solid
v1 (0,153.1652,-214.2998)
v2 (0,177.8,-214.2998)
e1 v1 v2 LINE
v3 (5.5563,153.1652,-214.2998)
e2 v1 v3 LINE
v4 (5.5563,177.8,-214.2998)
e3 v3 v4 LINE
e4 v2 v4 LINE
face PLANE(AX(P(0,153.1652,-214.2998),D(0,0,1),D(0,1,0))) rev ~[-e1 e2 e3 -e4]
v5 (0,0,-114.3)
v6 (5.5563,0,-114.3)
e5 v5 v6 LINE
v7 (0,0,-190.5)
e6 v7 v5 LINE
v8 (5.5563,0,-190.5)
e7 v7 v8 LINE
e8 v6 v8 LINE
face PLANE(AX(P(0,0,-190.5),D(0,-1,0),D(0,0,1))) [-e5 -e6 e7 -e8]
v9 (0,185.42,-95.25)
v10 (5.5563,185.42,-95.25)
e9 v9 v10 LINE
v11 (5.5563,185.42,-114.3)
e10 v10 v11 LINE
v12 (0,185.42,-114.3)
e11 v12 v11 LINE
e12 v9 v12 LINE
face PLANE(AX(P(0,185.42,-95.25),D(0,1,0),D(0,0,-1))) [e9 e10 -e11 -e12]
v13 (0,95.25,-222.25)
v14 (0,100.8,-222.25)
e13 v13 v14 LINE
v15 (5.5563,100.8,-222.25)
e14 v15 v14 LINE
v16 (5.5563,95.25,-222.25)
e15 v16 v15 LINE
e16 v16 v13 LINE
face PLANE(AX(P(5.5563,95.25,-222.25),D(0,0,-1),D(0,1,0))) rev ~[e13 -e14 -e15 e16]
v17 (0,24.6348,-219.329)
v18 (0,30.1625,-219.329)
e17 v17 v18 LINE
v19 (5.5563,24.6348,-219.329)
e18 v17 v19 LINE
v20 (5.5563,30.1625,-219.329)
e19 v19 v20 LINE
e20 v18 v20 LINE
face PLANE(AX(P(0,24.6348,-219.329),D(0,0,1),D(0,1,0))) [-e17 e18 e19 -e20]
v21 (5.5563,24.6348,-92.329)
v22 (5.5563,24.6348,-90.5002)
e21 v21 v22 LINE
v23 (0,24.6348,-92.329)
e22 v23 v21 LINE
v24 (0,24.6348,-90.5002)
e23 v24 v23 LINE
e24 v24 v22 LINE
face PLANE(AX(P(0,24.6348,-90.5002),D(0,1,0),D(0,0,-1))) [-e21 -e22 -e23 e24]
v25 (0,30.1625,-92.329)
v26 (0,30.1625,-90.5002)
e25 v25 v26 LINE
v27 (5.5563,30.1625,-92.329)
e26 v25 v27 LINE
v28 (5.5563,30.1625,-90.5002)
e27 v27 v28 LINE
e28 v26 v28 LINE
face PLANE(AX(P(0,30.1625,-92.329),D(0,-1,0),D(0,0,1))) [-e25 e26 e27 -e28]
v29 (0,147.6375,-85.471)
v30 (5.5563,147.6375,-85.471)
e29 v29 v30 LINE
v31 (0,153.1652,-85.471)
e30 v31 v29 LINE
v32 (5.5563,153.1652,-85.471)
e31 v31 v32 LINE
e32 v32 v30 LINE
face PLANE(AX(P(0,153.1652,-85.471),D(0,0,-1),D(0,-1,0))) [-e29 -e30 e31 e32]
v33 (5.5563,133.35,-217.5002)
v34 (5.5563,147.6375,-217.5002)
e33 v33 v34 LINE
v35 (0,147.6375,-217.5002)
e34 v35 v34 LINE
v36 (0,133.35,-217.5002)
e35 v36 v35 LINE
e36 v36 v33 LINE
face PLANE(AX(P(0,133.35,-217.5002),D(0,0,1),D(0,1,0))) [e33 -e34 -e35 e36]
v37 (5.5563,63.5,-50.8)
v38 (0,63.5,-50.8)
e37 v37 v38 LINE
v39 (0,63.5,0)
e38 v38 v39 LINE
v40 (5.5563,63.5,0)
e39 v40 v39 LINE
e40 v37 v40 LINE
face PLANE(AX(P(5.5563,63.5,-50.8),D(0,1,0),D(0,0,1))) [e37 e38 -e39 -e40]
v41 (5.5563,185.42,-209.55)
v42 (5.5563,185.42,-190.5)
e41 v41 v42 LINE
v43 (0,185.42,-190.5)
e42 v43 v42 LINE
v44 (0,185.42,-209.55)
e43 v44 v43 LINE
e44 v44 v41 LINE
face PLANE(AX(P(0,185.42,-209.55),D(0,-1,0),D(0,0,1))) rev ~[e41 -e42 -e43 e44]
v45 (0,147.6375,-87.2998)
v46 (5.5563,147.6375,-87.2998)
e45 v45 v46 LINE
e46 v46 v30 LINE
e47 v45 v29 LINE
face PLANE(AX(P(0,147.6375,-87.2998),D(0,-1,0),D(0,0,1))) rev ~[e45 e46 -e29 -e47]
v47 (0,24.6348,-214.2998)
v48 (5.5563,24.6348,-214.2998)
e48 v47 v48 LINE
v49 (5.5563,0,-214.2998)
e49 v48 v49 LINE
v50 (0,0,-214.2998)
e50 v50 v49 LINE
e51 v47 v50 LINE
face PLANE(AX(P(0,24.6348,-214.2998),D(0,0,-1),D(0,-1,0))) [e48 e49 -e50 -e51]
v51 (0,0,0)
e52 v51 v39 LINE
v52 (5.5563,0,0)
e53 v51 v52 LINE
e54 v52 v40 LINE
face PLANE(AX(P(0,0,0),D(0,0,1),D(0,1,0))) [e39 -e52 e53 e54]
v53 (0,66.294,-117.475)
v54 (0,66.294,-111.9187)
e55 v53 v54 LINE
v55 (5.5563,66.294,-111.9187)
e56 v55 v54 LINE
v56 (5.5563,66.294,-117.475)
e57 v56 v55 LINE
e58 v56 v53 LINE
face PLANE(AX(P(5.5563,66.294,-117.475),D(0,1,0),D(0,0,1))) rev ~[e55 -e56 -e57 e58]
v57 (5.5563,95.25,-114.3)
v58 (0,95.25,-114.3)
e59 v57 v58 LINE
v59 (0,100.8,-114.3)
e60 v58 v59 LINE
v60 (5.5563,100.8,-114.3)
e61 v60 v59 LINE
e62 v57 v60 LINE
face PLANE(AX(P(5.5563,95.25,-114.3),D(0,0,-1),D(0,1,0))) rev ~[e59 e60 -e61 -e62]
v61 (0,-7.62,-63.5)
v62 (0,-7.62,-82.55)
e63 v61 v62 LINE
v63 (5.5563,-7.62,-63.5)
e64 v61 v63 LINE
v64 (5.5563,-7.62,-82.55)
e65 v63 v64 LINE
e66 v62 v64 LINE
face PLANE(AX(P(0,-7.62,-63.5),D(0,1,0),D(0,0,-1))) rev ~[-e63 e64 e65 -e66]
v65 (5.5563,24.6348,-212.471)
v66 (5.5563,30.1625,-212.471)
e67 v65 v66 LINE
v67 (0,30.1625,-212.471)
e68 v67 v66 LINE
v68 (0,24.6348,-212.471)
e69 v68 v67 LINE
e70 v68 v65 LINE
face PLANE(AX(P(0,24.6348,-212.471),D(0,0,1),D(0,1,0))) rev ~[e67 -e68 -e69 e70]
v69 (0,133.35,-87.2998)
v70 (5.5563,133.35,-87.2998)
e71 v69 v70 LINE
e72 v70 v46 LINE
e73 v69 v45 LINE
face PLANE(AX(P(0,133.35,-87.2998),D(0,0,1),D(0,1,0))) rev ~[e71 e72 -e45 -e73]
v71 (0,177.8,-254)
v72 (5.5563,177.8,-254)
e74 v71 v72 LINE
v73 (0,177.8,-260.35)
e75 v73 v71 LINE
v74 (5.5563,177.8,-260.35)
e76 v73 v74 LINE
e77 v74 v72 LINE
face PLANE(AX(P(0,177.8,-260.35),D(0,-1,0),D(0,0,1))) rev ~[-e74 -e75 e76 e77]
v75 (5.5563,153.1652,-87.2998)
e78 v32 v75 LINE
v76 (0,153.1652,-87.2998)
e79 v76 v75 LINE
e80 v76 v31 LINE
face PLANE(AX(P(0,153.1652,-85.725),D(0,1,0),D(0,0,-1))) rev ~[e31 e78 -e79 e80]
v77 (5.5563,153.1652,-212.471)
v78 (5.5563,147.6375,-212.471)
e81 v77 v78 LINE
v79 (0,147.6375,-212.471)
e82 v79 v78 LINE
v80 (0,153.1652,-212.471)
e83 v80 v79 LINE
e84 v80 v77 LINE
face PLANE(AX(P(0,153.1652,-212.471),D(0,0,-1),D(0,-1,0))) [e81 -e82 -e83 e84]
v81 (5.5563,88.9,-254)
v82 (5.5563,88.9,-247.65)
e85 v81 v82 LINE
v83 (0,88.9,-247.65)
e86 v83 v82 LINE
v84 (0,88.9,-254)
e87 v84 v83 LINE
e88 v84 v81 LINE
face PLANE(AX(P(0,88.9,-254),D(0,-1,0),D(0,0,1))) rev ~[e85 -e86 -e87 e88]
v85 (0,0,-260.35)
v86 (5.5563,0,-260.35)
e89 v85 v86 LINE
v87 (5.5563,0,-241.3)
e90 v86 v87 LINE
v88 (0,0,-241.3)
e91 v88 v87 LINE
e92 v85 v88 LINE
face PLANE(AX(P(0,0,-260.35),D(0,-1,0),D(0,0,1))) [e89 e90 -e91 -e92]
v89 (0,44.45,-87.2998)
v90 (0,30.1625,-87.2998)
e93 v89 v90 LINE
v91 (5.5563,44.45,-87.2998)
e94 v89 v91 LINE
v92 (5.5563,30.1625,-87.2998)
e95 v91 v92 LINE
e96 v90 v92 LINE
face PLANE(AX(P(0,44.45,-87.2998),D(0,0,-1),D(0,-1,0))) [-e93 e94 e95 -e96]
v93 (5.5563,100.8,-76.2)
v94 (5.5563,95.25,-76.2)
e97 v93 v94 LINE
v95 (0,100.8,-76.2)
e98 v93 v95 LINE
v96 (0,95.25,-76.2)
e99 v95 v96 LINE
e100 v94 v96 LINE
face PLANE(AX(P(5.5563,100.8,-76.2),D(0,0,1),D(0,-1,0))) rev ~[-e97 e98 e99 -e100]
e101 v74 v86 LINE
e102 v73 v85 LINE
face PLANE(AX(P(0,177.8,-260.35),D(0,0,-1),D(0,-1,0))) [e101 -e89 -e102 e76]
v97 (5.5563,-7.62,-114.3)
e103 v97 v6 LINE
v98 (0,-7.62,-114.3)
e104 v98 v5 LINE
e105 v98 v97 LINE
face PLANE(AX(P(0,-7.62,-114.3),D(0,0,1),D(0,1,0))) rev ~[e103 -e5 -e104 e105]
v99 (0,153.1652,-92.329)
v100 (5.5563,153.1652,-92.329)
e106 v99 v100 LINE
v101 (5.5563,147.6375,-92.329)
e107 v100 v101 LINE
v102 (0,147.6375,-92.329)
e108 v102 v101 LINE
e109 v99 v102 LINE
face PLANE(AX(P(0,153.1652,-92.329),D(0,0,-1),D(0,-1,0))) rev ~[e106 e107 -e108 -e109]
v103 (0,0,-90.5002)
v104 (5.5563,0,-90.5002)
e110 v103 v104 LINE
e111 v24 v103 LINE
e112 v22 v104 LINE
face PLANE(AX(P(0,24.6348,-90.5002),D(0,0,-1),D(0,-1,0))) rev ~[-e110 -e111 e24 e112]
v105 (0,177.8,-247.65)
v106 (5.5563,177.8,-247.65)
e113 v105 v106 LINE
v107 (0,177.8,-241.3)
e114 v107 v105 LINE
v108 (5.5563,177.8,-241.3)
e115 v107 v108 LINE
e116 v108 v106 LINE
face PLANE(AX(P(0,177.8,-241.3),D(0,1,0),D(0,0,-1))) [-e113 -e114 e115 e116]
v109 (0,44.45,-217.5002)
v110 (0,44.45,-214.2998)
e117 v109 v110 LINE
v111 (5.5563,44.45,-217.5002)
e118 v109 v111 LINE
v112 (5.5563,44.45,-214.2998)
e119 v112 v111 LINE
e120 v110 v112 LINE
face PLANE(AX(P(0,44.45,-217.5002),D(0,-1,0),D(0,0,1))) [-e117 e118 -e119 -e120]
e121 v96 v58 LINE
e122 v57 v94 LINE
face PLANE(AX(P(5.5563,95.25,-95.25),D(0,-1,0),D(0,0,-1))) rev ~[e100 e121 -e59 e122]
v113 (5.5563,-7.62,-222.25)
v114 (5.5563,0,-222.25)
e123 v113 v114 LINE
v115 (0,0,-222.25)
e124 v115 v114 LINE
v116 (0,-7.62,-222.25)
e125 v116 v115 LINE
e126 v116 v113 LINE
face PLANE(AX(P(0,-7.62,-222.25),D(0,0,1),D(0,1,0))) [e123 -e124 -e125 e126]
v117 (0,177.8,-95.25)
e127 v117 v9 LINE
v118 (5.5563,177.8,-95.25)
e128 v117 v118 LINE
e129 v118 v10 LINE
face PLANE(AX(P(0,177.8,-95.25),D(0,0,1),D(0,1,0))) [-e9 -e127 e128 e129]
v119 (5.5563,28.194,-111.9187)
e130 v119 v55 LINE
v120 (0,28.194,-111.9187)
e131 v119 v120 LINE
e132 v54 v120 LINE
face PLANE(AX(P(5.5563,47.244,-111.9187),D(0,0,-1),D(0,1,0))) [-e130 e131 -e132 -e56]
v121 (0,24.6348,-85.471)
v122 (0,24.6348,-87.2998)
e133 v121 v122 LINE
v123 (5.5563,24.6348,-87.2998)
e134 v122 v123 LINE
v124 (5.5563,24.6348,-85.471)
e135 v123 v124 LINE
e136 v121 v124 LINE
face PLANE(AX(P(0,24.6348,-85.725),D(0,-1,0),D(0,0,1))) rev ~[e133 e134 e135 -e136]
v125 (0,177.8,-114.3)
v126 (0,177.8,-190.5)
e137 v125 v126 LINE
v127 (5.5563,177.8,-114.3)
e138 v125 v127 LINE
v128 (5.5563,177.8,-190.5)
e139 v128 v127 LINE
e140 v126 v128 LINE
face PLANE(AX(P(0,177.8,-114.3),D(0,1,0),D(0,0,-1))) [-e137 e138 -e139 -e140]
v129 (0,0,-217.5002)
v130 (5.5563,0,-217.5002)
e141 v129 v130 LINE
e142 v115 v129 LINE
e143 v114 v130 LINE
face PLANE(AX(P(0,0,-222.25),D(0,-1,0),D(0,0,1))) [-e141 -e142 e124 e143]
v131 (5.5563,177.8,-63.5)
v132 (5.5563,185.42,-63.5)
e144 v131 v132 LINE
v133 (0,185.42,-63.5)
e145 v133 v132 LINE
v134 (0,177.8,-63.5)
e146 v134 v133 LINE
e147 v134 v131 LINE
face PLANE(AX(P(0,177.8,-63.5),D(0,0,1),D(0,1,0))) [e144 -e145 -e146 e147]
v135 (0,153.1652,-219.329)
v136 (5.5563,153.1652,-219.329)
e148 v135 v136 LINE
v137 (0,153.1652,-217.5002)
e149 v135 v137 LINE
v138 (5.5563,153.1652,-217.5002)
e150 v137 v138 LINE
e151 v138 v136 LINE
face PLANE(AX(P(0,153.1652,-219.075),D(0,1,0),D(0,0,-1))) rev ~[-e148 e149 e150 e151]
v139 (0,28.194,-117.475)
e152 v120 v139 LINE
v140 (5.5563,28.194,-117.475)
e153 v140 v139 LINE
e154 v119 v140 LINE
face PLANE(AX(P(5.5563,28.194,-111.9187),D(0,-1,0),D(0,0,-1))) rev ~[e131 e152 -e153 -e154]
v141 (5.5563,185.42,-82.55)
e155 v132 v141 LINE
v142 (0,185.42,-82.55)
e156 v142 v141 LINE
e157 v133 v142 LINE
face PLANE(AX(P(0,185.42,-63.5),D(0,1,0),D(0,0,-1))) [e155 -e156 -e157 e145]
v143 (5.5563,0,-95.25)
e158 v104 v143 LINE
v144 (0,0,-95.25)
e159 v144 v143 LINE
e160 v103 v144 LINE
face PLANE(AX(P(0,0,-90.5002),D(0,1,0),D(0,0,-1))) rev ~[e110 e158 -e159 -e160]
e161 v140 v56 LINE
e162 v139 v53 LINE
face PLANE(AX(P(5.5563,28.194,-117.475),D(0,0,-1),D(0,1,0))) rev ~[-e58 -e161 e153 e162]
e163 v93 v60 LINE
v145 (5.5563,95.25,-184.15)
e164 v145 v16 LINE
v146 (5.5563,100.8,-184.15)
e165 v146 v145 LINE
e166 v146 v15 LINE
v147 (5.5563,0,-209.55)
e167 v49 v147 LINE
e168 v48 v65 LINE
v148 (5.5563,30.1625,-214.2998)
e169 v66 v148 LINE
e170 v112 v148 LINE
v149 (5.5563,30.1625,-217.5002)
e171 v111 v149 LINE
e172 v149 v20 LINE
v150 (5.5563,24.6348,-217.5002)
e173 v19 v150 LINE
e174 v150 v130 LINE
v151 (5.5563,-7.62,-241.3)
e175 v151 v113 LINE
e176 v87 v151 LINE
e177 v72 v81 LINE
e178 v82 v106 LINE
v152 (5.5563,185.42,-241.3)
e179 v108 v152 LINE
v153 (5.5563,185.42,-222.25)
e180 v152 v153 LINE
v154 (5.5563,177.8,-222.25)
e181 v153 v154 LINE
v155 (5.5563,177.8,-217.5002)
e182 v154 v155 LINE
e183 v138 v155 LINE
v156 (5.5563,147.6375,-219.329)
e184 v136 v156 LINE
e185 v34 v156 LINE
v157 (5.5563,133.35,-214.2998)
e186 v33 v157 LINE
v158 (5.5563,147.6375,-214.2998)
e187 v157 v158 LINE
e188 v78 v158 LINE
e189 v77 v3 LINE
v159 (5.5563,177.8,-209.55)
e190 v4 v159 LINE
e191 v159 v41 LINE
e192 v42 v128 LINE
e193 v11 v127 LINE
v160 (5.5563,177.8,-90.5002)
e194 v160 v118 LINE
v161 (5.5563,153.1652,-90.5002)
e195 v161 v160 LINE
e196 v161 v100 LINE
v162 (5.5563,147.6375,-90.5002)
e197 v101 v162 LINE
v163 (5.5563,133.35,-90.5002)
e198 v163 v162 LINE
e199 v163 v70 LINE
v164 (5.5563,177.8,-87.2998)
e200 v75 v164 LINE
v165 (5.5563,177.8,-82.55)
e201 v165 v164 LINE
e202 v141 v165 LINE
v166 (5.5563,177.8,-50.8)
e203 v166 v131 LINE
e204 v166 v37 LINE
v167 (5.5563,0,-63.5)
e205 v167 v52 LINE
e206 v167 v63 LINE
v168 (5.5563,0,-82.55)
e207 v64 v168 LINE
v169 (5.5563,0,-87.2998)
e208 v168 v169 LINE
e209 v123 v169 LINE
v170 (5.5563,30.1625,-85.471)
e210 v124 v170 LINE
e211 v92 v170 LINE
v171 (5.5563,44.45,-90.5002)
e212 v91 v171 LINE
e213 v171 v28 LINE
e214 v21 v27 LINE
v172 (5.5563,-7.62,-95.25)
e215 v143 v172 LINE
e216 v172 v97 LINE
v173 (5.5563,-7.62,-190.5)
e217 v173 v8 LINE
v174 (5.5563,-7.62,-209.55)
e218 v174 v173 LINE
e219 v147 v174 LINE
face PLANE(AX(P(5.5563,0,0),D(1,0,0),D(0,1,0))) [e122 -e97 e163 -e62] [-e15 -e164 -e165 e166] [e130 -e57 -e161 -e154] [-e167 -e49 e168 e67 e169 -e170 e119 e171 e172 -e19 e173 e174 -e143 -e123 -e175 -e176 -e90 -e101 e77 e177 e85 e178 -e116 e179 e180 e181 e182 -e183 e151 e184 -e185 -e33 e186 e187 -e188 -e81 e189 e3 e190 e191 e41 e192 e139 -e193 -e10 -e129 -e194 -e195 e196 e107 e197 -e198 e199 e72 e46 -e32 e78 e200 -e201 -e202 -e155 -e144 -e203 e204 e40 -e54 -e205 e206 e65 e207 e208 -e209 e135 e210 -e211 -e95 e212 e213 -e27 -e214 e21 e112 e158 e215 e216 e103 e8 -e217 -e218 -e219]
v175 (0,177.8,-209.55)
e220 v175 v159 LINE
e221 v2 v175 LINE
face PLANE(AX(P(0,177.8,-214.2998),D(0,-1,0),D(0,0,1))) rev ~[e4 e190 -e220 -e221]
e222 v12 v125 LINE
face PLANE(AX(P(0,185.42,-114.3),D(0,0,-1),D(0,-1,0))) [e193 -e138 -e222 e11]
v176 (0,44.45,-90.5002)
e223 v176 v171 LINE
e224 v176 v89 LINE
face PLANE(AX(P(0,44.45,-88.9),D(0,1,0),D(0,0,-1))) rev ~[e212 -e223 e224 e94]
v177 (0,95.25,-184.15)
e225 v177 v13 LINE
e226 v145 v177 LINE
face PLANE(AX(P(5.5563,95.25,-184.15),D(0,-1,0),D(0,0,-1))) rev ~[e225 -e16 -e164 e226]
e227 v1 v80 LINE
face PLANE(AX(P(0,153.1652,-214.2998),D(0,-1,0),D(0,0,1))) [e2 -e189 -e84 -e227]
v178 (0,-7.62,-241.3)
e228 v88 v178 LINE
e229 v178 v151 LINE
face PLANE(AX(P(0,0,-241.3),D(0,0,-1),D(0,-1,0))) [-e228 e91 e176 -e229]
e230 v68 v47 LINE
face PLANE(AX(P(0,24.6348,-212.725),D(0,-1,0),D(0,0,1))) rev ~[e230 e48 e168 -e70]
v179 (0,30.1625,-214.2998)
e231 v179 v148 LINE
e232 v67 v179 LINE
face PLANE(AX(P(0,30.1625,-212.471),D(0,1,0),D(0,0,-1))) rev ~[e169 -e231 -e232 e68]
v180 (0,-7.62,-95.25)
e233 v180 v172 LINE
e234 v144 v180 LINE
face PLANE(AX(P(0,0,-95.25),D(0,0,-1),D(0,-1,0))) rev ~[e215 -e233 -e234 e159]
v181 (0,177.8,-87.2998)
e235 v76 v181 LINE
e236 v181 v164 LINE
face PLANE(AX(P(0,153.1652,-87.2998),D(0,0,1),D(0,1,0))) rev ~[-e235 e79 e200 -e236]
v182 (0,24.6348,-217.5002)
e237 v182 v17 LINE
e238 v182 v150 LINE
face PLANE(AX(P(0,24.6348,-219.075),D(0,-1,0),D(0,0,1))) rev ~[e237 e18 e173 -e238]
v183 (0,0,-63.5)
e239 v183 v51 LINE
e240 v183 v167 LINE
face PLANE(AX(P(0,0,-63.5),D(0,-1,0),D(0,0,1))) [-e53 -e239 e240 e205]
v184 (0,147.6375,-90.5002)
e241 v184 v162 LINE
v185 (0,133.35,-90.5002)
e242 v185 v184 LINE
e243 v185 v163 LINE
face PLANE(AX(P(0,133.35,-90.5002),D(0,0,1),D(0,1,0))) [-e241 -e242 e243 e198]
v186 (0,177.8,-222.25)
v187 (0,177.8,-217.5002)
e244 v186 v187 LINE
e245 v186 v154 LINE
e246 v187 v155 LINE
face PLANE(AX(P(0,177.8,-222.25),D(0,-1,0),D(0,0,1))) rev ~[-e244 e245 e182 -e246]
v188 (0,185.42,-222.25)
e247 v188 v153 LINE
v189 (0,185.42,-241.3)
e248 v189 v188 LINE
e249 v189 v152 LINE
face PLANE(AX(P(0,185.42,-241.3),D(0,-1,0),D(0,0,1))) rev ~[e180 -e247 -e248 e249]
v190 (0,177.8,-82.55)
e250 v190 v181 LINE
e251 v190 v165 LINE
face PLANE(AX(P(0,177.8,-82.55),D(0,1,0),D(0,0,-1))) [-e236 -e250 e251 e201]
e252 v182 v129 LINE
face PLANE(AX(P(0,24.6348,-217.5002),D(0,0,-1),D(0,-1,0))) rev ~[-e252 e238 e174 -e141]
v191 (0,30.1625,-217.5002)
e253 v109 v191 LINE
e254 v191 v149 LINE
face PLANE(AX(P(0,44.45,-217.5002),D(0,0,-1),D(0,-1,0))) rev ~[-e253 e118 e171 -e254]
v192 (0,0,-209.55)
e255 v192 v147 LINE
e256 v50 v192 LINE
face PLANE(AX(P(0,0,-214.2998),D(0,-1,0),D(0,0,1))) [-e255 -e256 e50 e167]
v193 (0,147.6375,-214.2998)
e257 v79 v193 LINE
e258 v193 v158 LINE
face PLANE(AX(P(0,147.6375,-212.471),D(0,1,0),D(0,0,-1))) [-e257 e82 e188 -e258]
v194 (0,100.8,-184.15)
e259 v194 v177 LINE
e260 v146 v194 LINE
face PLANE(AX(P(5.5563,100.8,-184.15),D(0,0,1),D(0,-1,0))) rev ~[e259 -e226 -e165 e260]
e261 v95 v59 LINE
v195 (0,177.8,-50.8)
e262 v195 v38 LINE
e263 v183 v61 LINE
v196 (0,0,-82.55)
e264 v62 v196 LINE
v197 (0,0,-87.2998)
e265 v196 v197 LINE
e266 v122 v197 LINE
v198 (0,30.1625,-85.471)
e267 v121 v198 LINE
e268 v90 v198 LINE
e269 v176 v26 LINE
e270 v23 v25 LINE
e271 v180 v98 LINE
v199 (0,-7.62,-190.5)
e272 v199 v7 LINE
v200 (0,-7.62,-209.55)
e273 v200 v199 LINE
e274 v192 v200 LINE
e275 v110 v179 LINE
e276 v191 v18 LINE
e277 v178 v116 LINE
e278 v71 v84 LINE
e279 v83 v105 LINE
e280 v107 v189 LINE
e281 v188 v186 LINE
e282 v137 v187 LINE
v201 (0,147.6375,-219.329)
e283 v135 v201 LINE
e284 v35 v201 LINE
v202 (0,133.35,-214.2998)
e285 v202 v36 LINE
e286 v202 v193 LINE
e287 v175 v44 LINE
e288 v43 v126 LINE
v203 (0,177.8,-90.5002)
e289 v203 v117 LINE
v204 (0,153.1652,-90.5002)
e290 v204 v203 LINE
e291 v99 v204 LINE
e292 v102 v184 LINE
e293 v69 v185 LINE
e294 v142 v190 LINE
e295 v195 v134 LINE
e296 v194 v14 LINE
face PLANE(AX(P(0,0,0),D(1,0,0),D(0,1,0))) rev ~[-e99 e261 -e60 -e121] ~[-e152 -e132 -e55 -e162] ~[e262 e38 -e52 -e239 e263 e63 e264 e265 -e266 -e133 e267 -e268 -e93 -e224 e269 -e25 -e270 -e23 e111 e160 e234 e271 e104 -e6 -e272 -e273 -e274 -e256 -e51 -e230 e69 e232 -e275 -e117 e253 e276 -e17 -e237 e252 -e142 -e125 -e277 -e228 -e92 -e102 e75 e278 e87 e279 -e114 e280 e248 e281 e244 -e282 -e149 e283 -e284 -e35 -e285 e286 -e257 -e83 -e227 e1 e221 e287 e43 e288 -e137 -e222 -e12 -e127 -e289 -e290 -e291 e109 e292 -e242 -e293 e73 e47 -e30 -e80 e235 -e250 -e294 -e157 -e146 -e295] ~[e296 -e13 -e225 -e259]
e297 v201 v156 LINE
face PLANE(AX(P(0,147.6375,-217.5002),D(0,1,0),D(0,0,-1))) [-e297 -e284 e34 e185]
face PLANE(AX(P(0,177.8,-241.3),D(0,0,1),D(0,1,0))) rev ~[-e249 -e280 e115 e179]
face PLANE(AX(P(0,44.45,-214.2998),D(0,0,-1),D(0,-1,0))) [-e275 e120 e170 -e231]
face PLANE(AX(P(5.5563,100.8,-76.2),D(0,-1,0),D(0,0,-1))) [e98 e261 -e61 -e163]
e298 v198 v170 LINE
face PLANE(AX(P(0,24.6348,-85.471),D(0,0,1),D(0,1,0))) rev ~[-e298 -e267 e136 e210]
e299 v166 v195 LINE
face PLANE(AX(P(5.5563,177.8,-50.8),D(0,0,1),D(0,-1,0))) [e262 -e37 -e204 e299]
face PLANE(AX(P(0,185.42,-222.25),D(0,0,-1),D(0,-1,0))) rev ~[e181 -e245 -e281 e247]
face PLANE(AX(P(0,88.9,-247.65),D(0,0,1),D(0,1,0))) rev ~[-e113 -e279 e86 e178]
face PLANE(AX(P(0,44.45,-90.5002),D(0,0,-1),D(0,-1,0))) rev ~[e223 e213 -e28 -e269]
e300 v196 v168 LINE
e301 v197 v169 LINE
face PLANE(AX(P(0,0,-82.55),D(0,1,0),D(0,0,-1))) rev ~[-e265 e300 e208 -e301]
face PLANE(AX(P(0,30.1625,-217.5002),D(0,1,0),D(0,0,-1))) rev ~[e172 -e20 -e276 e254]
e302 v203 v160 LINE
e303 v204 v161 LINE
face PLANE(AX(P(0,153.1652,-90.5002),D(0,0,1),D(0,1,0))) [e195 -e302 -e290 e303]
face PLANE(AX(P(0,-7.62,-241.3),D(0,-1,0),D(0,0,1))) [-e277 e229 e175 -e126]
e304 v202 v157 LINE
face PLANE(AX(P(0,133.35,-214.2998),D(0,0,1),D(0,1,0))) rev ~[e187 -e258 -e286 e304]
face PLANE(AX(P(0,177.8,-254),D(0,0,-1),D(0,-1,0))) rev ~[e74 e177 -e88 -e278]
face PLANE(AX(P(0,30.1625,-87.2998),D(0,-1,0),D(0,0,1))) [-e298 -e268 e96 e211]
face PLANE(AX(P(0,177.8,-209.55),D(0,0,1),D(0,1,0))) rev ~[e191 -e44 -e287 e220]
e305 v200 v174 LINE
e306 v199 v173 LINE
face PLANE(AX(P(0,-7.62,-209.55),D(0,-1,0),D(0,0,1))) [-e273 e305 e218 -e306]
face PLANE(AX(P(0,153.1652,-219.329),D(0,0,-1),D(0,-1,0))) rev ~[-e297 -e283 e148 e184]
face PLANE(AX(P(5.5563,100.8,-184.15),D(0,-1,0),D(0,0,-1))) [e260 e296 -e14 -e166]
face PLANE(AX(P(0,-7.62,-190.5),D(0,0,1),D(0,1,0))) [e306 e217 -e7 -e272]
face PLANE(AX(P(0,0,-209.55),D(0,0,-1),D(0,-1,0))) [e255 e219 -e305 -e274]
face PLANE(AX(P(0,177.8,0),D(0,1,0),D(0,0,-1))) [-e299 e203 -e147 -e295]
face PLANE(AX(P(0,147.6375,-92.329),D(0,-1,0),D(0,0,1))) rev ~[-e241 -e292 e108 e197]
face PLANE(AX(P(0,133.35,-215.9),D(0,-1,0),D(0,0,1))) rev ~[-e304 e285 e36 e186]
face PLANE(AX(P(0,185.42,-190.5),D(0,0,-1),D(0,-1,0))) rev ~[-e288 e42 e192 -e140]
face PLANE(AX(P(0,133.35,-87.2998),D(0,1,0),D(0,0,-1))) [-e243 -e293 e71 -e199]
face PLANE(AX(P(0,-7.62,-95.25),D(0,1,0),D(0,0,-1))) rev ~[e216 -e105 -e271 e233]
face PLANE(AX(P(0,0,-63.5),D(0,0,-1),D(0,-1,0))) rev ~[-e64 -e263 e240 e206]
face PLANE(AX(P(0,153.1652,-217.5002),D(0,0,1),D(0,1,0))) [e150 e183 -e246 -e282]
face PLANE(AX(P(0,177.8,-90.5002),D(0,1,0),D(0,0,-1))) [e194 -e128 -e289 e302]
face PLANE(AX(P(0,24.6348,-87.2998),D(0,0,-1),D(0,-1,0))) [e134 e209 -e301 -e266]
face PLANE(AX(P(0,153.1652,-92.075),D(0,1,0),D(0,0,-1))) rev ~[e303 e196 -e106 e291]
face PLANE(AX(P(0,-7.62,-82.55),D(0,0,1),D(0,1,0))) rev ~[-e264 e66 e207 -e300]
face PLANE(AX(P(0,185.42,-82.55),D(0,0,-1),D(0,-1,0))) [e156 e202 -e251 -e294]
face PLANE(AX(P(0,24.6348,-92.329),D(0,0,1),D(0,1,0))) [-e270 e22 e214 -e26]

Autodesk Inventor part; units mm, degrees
ref_plane "YZ Plane" through (0, 0, 0) normal (1, 0, 0) x (0, 1, 0)
ref_plane "XZ Plane" through (0, 0, 0) normal (0, 1, 0) x (-1, 0, 0)
ref_plane "XY Plane" through (0, 0, 0) normal (0, 0, 1) x (1, 0, 0)
sketch "Sketch1" plane through (0, 0, 0) normal (1, 0, 0) x (0, 1, 0)
  line L0 (0, 0) -> (177.8, 0)
  line L1 (177.8, -260.35) -> (0, -260.35)
  line L2 (0, -260.35) -> (0, -241.3)
  line L3 (0, -241.3) -> (-7.62, -241.3)
  line L4 (-7.62, -241.3) -> (-7.62, -222.25)
  line L5 (-7.62, -222.25) -> (0, -222.25)
  line L6 (0, -209.55) -> (-7.62, -209.55)
  line L7 (-7.62, -209.55) -> (-7.62, -190.5)
  line L8 (-7.62, -190.5) -> (0, -190.5)
  line L9 (0, -190.5) -> (0, -152.4)
  line L10 (44.45, -215.9) -> (44.45, -214.2998)
  line L11 (44.45, -217.5002) -> (44.45, -215.9)
  line L12 (24.6348, -214.2998) -> (24.6348, -212.725)
  line L13 (24.6348, -219.075) -> (24.6348, -219.329)
  line L14 (24.6348, -219.329) -> (30.1625, -219.329)
  line L15 (24.6348, -212.725) -> (24.6348, -212.471)
  line L16 (24.6348, -212.471) -> (30.1625, -212.471)
  line L17 (24.6348, -219.075) -> (24.6348, -217.4875)
  line L18 (30.1625, -212.471) -> (30.1625, -214.2998)
  line L19 (30.1625, -217.5002) -> (30.1625, -219.329)
  line L20 (44.45, -214.2998) -> (30.1625, -214.2998)
  line L21 (24.6348, -214.2998) -> (0, -214.2998)
  line L22 (44.45, -217.5002) -> (30.1625, -217.5002)
  line L23 (24.6348, -217.5002) -> (0, -217.5002)
  line L24 (0, -63.5) -> (-7.62, -63.5)
  line L25 (-7.62, -63.5) -> (-7.62, -82.55)
  line L26 (-7.62, -82.55) -> (0, -82.55)
  line L27 (0, -95.25) -> (-7.62, -95.25)
  line L28 (-7.62, -95.25) -> (-7.62, -114.3)
  line L29 (-7.62, -114.3) -> (0, -114.3)
  line L30 (44.45, -88.9) -> (44.45, -90.5002)
  line L31 (44.45, -87.2998) -> (44.45, -88.9)
  line L32 (24.6348, -90.5002) -> (24.6348, -92.075)
  line L33 (24.6348, -85.725) -> (24.6348, -85.471)
  line L34 (24.6348, -85.471) -> (30.1625, -85.471)
  line L35 (24.6348, -92.075) -> (24.6348, -92.329)
  line L36 (24.6348, -92.329) -> (30.1625, -92.329)
  line L37 (24.6348, -85.725) -> (24.6348, -87.3125)
  line L38 (30.1625, -92.329) -> (30.1625, -90.5002)
  line L39 (30.1625, -87.2998) -> (30.1625, -85.471)
  line L40 (44.45, -90.5002) -> (30.1625, -90.5002)
  line L41 (24.6348, -90.5002) -> (0, -90.5002)
  line L42 (44.45, -87.2998) -> (30.1625, -87.2998)
  line L43 (24.6348, -87.2998) -> (0, -87.2998)
  line L44 (177.8, -241.3) -> (185.42, -241.3)
  line L45 (185.42, -241.3) -> (185.42, -222.25)
  line L46 (185.42, -222.25) -> (177.8, -222.25)
  line L47 (177.8, -209.55) -> (185.42, -209.55)
  line L48 (185.42, -209.55) -> (185.42, -190.5)
  line L49 (185.42, -190.5) -> (177.8, -190.5)
  line L50 (177.8, -190.5) -> (177.8, -152.4)
  line L51 (133.35, -215.9) -> (133.35, -214.2998)
  line L52 (133.35, -217.5002) -> (133.35, -215.9)
  line L53 (153.1652, -214.2998) -> (153.1652, -212.725)
  line L54 (153.1652, -219.075) -> (153.1652, -219.329)
  line L55 (153.1652, -219.329) -> (147.6375, -219.329)
  line L56 (153.1652, -212.725) -> (153.1652, -212.471)
  line L57 (153.1652, -212.471) -> (147.6375, -212.471)
  line L58 (153.1652, -219.075) -> (153.1652, -217.4875)
  line L59 (147.6375, -212.471) -> (147.6375, -214.2998)
  line L60 (147.6375, -217.5002) -> (147.6375, -219.329)
  line L61 (133.35, -214.2998) -> (147.6375, -214.2998)
  line L62 (153.1652, -214.2998) -> (177.8, -214.2998)
  line L63 (133.35, -217.5002) -> (147.6375, -217.5002)
  line L64 (153.1652, -217.5002) -> (177.8, -217.5002)
  line L65 (185.42, -63.5) -> (185.42, -82.55)
  line L66 (185.42, -82.55) -> (177.8, -82.55)
  line L67 (177.8, -95.25) -> (185.42, -95.25)
  line L68 (185.42, -95.25) -> (185.42, -114.3)
  line L69 (185.42, -114.3) -> (177.8, -114.3)
  line L70 (153.1652, -85.725) -> (153.1652, -85.471)
  line L71 (153.1652, -85.725) -> (153.1652, -87.3125)
  line L72 (153.1652, -85.471) -> (147.6375, -85.471)
  line L73 (147.6375, -87.2998) -> (147.6375, -85.471)
  line L74 (177.8, -63.5) -> (185.42, -63.5)
  line L75 (153.1652, -90.5002) -> (153.1652, -92.075)
  line L76 (153.1652, -92.075) -> (153.1652, -92.329)
  line L77 (153.1652, -92.329) -> (147.6375, -92.329)
  line L78 (147.6375, -92.329) -> (147.6375, -90.5002)
  line L79 (133.35, -87.2998) -> (147.6375, -87.2998)
  line L80 (133.35, -87.2998) -> (133.35, -88.9)
  line L81 (133.35, -90.5002) -> (147.6375, -90.5002)
  line L82 (153.1652, -87.2998) -> (177.8, -87.2998)
  line L83 (153.1652, -90.5002) -> (177.8, -90.5002)
  line L84 (133.35, -88.9) -> (133.35, -90.5002)
  line L85 (177.8, -260.35) -> (177.8, -254)
  line L86 (177.8, -254) -> (88.9, -254)
  line L87 (88.9, -254) -> (88.9, -247.65)
  line L88 (88.9, -247.65) -> (177.8, -247.65)
  line L89 (177.8, -254) -> (177.8, -260.35)
  line L90 (177.8, 0) -> (177.8, -63.5)
  line L91 (177.8, -114.3) -> (177.8, -190.5)
  line L92 (177.8, -241.3) -> (177.8, -247.65)
  line L93 (0, -260.35) -> (0, -241.3)
  line L94 (0, -190.5) -> (0, -114.3)
  line L95 (0, -63.5) -> (0, 0)
  line L96 (0, -82.55) -> (0, -87.2998)
  line L97 (0, -90.5002) -> (0, -95.25)
  line L98 (0, -95.25) -> (0, -90.5002)
  line L99 (0, -87.2998) -> (0, -82.55)
  line L100 (0, -222.25) -> (0, -217.5002)
  line L101 (0, -214.2998) -> (0, -209.55)
  line L102 (0, -222.25) -> (0, -217.5002)
  line L103 (0, -214.2998) -> (0, -209.55)
  line L104 (177.8, -222.25) -> (177.8, -217.5002)
  line L105 (177.8, -214.2998) -> (177.8, -209.55)
  line L106 (177.8, -209.55) -> (177.8, -214.2998)
  line L107 (177.8, -217.5002) -> (177.8, -222.25)
  line L108 (177.8, -82.55) -> (177.8, -87.2998)
  line L109 (177.8, -90.5002) -> (177.8, -95.25)
  line L110 (177.8, -82.55) -> (177.8, -87.2998)
  line L111 (177.8, -90.5002) -> (177.8, -95.25)
  dimension "d0" = 177.8
  dimension "d1" = 260.35
  dimension "d8" = 38.1
  dimension "d16" = 0.254
  dimension "d17" = 0.254
  dimension "d18" = 6.35
extrude "Extrusion1" add sketch "Sketch1" along normal blind 5.5563
sketch "Sketch2" plane through (5.5563, 0, 0) normal (1, 0, 0) x (0, 0, -1)
  line L0 (63.5, 177.8) -> (0, 177.8) projected
  line L1 (0, 177.8) -> (50.8, 177.8)
  line L2 (50.8, 177.8) -> (50.8, 63.5)
  line L3 (50.8, 63.5) -> (0, 63.5)
  line L4 (0, 177.8) -> (0, 0) projected
  line L5 (0, 177.8) -> (0, 63.5)
extrude "Extrusion2" cut sketch "Sketch2" against normal blind 25.4
sketch "Sketch3" plane through (5.5563, 0, 0) normal (1, 0, 0) x (0, 0, -1)
  line L0 (190.5, 177.8) -> (114.3, 177.8) projected
  line L1 (247.65, 88.9) -> (247.65, 177.8) projected
  line L2 (76.2, 100.8) -> (76.2, 95.25)
  line L3 (114.3, 95.25) -> (114.3, 100.8)
  line L4 (184.15, 100.8) -> (184.15, 95.25)
  line L5 (222.25, 95.25) -> (222.25, 100.8)
  line L6 (76.2, 100.8) -> (114.3, 100.8)
  line L7 (184.15, 100.8) -> (222.25, 100.8)
  line L8 (95.25, 95.25) -> (76.2, 95.25)
  line L9 (95.25, 95.25) -> (114.3, 95.25)
  line L10 (184.15, 95.25) -> (222.25, 95.25)
  point P0 (0, 0)
extrude "Extrusion3" cut sketch "Sketch3" against normal blind 25.4
sketch "Sketch4" plane through (5.5563, 0, 0) normal (1, 0, 0) x (0, 0, -1)
  line L0 (111.9187, 28.194) -> (117.475, 28.194)
  line L1 (117.475, 28.194) -> (117.475, 66.294)
  line L2 (117.475, 66.294) -> (111.9187, 66.294)
  line L3 (111.9187, 47.244) -> (111.9187, 66.294)
  line L4 (111.9187, 28.194) -> (111.9187, 47.244)
  point P0 (0, 0)
extrude "Extrusion4" cut sketch "Sketch4" against normal blind 25.4
properties part number "sidewall"
